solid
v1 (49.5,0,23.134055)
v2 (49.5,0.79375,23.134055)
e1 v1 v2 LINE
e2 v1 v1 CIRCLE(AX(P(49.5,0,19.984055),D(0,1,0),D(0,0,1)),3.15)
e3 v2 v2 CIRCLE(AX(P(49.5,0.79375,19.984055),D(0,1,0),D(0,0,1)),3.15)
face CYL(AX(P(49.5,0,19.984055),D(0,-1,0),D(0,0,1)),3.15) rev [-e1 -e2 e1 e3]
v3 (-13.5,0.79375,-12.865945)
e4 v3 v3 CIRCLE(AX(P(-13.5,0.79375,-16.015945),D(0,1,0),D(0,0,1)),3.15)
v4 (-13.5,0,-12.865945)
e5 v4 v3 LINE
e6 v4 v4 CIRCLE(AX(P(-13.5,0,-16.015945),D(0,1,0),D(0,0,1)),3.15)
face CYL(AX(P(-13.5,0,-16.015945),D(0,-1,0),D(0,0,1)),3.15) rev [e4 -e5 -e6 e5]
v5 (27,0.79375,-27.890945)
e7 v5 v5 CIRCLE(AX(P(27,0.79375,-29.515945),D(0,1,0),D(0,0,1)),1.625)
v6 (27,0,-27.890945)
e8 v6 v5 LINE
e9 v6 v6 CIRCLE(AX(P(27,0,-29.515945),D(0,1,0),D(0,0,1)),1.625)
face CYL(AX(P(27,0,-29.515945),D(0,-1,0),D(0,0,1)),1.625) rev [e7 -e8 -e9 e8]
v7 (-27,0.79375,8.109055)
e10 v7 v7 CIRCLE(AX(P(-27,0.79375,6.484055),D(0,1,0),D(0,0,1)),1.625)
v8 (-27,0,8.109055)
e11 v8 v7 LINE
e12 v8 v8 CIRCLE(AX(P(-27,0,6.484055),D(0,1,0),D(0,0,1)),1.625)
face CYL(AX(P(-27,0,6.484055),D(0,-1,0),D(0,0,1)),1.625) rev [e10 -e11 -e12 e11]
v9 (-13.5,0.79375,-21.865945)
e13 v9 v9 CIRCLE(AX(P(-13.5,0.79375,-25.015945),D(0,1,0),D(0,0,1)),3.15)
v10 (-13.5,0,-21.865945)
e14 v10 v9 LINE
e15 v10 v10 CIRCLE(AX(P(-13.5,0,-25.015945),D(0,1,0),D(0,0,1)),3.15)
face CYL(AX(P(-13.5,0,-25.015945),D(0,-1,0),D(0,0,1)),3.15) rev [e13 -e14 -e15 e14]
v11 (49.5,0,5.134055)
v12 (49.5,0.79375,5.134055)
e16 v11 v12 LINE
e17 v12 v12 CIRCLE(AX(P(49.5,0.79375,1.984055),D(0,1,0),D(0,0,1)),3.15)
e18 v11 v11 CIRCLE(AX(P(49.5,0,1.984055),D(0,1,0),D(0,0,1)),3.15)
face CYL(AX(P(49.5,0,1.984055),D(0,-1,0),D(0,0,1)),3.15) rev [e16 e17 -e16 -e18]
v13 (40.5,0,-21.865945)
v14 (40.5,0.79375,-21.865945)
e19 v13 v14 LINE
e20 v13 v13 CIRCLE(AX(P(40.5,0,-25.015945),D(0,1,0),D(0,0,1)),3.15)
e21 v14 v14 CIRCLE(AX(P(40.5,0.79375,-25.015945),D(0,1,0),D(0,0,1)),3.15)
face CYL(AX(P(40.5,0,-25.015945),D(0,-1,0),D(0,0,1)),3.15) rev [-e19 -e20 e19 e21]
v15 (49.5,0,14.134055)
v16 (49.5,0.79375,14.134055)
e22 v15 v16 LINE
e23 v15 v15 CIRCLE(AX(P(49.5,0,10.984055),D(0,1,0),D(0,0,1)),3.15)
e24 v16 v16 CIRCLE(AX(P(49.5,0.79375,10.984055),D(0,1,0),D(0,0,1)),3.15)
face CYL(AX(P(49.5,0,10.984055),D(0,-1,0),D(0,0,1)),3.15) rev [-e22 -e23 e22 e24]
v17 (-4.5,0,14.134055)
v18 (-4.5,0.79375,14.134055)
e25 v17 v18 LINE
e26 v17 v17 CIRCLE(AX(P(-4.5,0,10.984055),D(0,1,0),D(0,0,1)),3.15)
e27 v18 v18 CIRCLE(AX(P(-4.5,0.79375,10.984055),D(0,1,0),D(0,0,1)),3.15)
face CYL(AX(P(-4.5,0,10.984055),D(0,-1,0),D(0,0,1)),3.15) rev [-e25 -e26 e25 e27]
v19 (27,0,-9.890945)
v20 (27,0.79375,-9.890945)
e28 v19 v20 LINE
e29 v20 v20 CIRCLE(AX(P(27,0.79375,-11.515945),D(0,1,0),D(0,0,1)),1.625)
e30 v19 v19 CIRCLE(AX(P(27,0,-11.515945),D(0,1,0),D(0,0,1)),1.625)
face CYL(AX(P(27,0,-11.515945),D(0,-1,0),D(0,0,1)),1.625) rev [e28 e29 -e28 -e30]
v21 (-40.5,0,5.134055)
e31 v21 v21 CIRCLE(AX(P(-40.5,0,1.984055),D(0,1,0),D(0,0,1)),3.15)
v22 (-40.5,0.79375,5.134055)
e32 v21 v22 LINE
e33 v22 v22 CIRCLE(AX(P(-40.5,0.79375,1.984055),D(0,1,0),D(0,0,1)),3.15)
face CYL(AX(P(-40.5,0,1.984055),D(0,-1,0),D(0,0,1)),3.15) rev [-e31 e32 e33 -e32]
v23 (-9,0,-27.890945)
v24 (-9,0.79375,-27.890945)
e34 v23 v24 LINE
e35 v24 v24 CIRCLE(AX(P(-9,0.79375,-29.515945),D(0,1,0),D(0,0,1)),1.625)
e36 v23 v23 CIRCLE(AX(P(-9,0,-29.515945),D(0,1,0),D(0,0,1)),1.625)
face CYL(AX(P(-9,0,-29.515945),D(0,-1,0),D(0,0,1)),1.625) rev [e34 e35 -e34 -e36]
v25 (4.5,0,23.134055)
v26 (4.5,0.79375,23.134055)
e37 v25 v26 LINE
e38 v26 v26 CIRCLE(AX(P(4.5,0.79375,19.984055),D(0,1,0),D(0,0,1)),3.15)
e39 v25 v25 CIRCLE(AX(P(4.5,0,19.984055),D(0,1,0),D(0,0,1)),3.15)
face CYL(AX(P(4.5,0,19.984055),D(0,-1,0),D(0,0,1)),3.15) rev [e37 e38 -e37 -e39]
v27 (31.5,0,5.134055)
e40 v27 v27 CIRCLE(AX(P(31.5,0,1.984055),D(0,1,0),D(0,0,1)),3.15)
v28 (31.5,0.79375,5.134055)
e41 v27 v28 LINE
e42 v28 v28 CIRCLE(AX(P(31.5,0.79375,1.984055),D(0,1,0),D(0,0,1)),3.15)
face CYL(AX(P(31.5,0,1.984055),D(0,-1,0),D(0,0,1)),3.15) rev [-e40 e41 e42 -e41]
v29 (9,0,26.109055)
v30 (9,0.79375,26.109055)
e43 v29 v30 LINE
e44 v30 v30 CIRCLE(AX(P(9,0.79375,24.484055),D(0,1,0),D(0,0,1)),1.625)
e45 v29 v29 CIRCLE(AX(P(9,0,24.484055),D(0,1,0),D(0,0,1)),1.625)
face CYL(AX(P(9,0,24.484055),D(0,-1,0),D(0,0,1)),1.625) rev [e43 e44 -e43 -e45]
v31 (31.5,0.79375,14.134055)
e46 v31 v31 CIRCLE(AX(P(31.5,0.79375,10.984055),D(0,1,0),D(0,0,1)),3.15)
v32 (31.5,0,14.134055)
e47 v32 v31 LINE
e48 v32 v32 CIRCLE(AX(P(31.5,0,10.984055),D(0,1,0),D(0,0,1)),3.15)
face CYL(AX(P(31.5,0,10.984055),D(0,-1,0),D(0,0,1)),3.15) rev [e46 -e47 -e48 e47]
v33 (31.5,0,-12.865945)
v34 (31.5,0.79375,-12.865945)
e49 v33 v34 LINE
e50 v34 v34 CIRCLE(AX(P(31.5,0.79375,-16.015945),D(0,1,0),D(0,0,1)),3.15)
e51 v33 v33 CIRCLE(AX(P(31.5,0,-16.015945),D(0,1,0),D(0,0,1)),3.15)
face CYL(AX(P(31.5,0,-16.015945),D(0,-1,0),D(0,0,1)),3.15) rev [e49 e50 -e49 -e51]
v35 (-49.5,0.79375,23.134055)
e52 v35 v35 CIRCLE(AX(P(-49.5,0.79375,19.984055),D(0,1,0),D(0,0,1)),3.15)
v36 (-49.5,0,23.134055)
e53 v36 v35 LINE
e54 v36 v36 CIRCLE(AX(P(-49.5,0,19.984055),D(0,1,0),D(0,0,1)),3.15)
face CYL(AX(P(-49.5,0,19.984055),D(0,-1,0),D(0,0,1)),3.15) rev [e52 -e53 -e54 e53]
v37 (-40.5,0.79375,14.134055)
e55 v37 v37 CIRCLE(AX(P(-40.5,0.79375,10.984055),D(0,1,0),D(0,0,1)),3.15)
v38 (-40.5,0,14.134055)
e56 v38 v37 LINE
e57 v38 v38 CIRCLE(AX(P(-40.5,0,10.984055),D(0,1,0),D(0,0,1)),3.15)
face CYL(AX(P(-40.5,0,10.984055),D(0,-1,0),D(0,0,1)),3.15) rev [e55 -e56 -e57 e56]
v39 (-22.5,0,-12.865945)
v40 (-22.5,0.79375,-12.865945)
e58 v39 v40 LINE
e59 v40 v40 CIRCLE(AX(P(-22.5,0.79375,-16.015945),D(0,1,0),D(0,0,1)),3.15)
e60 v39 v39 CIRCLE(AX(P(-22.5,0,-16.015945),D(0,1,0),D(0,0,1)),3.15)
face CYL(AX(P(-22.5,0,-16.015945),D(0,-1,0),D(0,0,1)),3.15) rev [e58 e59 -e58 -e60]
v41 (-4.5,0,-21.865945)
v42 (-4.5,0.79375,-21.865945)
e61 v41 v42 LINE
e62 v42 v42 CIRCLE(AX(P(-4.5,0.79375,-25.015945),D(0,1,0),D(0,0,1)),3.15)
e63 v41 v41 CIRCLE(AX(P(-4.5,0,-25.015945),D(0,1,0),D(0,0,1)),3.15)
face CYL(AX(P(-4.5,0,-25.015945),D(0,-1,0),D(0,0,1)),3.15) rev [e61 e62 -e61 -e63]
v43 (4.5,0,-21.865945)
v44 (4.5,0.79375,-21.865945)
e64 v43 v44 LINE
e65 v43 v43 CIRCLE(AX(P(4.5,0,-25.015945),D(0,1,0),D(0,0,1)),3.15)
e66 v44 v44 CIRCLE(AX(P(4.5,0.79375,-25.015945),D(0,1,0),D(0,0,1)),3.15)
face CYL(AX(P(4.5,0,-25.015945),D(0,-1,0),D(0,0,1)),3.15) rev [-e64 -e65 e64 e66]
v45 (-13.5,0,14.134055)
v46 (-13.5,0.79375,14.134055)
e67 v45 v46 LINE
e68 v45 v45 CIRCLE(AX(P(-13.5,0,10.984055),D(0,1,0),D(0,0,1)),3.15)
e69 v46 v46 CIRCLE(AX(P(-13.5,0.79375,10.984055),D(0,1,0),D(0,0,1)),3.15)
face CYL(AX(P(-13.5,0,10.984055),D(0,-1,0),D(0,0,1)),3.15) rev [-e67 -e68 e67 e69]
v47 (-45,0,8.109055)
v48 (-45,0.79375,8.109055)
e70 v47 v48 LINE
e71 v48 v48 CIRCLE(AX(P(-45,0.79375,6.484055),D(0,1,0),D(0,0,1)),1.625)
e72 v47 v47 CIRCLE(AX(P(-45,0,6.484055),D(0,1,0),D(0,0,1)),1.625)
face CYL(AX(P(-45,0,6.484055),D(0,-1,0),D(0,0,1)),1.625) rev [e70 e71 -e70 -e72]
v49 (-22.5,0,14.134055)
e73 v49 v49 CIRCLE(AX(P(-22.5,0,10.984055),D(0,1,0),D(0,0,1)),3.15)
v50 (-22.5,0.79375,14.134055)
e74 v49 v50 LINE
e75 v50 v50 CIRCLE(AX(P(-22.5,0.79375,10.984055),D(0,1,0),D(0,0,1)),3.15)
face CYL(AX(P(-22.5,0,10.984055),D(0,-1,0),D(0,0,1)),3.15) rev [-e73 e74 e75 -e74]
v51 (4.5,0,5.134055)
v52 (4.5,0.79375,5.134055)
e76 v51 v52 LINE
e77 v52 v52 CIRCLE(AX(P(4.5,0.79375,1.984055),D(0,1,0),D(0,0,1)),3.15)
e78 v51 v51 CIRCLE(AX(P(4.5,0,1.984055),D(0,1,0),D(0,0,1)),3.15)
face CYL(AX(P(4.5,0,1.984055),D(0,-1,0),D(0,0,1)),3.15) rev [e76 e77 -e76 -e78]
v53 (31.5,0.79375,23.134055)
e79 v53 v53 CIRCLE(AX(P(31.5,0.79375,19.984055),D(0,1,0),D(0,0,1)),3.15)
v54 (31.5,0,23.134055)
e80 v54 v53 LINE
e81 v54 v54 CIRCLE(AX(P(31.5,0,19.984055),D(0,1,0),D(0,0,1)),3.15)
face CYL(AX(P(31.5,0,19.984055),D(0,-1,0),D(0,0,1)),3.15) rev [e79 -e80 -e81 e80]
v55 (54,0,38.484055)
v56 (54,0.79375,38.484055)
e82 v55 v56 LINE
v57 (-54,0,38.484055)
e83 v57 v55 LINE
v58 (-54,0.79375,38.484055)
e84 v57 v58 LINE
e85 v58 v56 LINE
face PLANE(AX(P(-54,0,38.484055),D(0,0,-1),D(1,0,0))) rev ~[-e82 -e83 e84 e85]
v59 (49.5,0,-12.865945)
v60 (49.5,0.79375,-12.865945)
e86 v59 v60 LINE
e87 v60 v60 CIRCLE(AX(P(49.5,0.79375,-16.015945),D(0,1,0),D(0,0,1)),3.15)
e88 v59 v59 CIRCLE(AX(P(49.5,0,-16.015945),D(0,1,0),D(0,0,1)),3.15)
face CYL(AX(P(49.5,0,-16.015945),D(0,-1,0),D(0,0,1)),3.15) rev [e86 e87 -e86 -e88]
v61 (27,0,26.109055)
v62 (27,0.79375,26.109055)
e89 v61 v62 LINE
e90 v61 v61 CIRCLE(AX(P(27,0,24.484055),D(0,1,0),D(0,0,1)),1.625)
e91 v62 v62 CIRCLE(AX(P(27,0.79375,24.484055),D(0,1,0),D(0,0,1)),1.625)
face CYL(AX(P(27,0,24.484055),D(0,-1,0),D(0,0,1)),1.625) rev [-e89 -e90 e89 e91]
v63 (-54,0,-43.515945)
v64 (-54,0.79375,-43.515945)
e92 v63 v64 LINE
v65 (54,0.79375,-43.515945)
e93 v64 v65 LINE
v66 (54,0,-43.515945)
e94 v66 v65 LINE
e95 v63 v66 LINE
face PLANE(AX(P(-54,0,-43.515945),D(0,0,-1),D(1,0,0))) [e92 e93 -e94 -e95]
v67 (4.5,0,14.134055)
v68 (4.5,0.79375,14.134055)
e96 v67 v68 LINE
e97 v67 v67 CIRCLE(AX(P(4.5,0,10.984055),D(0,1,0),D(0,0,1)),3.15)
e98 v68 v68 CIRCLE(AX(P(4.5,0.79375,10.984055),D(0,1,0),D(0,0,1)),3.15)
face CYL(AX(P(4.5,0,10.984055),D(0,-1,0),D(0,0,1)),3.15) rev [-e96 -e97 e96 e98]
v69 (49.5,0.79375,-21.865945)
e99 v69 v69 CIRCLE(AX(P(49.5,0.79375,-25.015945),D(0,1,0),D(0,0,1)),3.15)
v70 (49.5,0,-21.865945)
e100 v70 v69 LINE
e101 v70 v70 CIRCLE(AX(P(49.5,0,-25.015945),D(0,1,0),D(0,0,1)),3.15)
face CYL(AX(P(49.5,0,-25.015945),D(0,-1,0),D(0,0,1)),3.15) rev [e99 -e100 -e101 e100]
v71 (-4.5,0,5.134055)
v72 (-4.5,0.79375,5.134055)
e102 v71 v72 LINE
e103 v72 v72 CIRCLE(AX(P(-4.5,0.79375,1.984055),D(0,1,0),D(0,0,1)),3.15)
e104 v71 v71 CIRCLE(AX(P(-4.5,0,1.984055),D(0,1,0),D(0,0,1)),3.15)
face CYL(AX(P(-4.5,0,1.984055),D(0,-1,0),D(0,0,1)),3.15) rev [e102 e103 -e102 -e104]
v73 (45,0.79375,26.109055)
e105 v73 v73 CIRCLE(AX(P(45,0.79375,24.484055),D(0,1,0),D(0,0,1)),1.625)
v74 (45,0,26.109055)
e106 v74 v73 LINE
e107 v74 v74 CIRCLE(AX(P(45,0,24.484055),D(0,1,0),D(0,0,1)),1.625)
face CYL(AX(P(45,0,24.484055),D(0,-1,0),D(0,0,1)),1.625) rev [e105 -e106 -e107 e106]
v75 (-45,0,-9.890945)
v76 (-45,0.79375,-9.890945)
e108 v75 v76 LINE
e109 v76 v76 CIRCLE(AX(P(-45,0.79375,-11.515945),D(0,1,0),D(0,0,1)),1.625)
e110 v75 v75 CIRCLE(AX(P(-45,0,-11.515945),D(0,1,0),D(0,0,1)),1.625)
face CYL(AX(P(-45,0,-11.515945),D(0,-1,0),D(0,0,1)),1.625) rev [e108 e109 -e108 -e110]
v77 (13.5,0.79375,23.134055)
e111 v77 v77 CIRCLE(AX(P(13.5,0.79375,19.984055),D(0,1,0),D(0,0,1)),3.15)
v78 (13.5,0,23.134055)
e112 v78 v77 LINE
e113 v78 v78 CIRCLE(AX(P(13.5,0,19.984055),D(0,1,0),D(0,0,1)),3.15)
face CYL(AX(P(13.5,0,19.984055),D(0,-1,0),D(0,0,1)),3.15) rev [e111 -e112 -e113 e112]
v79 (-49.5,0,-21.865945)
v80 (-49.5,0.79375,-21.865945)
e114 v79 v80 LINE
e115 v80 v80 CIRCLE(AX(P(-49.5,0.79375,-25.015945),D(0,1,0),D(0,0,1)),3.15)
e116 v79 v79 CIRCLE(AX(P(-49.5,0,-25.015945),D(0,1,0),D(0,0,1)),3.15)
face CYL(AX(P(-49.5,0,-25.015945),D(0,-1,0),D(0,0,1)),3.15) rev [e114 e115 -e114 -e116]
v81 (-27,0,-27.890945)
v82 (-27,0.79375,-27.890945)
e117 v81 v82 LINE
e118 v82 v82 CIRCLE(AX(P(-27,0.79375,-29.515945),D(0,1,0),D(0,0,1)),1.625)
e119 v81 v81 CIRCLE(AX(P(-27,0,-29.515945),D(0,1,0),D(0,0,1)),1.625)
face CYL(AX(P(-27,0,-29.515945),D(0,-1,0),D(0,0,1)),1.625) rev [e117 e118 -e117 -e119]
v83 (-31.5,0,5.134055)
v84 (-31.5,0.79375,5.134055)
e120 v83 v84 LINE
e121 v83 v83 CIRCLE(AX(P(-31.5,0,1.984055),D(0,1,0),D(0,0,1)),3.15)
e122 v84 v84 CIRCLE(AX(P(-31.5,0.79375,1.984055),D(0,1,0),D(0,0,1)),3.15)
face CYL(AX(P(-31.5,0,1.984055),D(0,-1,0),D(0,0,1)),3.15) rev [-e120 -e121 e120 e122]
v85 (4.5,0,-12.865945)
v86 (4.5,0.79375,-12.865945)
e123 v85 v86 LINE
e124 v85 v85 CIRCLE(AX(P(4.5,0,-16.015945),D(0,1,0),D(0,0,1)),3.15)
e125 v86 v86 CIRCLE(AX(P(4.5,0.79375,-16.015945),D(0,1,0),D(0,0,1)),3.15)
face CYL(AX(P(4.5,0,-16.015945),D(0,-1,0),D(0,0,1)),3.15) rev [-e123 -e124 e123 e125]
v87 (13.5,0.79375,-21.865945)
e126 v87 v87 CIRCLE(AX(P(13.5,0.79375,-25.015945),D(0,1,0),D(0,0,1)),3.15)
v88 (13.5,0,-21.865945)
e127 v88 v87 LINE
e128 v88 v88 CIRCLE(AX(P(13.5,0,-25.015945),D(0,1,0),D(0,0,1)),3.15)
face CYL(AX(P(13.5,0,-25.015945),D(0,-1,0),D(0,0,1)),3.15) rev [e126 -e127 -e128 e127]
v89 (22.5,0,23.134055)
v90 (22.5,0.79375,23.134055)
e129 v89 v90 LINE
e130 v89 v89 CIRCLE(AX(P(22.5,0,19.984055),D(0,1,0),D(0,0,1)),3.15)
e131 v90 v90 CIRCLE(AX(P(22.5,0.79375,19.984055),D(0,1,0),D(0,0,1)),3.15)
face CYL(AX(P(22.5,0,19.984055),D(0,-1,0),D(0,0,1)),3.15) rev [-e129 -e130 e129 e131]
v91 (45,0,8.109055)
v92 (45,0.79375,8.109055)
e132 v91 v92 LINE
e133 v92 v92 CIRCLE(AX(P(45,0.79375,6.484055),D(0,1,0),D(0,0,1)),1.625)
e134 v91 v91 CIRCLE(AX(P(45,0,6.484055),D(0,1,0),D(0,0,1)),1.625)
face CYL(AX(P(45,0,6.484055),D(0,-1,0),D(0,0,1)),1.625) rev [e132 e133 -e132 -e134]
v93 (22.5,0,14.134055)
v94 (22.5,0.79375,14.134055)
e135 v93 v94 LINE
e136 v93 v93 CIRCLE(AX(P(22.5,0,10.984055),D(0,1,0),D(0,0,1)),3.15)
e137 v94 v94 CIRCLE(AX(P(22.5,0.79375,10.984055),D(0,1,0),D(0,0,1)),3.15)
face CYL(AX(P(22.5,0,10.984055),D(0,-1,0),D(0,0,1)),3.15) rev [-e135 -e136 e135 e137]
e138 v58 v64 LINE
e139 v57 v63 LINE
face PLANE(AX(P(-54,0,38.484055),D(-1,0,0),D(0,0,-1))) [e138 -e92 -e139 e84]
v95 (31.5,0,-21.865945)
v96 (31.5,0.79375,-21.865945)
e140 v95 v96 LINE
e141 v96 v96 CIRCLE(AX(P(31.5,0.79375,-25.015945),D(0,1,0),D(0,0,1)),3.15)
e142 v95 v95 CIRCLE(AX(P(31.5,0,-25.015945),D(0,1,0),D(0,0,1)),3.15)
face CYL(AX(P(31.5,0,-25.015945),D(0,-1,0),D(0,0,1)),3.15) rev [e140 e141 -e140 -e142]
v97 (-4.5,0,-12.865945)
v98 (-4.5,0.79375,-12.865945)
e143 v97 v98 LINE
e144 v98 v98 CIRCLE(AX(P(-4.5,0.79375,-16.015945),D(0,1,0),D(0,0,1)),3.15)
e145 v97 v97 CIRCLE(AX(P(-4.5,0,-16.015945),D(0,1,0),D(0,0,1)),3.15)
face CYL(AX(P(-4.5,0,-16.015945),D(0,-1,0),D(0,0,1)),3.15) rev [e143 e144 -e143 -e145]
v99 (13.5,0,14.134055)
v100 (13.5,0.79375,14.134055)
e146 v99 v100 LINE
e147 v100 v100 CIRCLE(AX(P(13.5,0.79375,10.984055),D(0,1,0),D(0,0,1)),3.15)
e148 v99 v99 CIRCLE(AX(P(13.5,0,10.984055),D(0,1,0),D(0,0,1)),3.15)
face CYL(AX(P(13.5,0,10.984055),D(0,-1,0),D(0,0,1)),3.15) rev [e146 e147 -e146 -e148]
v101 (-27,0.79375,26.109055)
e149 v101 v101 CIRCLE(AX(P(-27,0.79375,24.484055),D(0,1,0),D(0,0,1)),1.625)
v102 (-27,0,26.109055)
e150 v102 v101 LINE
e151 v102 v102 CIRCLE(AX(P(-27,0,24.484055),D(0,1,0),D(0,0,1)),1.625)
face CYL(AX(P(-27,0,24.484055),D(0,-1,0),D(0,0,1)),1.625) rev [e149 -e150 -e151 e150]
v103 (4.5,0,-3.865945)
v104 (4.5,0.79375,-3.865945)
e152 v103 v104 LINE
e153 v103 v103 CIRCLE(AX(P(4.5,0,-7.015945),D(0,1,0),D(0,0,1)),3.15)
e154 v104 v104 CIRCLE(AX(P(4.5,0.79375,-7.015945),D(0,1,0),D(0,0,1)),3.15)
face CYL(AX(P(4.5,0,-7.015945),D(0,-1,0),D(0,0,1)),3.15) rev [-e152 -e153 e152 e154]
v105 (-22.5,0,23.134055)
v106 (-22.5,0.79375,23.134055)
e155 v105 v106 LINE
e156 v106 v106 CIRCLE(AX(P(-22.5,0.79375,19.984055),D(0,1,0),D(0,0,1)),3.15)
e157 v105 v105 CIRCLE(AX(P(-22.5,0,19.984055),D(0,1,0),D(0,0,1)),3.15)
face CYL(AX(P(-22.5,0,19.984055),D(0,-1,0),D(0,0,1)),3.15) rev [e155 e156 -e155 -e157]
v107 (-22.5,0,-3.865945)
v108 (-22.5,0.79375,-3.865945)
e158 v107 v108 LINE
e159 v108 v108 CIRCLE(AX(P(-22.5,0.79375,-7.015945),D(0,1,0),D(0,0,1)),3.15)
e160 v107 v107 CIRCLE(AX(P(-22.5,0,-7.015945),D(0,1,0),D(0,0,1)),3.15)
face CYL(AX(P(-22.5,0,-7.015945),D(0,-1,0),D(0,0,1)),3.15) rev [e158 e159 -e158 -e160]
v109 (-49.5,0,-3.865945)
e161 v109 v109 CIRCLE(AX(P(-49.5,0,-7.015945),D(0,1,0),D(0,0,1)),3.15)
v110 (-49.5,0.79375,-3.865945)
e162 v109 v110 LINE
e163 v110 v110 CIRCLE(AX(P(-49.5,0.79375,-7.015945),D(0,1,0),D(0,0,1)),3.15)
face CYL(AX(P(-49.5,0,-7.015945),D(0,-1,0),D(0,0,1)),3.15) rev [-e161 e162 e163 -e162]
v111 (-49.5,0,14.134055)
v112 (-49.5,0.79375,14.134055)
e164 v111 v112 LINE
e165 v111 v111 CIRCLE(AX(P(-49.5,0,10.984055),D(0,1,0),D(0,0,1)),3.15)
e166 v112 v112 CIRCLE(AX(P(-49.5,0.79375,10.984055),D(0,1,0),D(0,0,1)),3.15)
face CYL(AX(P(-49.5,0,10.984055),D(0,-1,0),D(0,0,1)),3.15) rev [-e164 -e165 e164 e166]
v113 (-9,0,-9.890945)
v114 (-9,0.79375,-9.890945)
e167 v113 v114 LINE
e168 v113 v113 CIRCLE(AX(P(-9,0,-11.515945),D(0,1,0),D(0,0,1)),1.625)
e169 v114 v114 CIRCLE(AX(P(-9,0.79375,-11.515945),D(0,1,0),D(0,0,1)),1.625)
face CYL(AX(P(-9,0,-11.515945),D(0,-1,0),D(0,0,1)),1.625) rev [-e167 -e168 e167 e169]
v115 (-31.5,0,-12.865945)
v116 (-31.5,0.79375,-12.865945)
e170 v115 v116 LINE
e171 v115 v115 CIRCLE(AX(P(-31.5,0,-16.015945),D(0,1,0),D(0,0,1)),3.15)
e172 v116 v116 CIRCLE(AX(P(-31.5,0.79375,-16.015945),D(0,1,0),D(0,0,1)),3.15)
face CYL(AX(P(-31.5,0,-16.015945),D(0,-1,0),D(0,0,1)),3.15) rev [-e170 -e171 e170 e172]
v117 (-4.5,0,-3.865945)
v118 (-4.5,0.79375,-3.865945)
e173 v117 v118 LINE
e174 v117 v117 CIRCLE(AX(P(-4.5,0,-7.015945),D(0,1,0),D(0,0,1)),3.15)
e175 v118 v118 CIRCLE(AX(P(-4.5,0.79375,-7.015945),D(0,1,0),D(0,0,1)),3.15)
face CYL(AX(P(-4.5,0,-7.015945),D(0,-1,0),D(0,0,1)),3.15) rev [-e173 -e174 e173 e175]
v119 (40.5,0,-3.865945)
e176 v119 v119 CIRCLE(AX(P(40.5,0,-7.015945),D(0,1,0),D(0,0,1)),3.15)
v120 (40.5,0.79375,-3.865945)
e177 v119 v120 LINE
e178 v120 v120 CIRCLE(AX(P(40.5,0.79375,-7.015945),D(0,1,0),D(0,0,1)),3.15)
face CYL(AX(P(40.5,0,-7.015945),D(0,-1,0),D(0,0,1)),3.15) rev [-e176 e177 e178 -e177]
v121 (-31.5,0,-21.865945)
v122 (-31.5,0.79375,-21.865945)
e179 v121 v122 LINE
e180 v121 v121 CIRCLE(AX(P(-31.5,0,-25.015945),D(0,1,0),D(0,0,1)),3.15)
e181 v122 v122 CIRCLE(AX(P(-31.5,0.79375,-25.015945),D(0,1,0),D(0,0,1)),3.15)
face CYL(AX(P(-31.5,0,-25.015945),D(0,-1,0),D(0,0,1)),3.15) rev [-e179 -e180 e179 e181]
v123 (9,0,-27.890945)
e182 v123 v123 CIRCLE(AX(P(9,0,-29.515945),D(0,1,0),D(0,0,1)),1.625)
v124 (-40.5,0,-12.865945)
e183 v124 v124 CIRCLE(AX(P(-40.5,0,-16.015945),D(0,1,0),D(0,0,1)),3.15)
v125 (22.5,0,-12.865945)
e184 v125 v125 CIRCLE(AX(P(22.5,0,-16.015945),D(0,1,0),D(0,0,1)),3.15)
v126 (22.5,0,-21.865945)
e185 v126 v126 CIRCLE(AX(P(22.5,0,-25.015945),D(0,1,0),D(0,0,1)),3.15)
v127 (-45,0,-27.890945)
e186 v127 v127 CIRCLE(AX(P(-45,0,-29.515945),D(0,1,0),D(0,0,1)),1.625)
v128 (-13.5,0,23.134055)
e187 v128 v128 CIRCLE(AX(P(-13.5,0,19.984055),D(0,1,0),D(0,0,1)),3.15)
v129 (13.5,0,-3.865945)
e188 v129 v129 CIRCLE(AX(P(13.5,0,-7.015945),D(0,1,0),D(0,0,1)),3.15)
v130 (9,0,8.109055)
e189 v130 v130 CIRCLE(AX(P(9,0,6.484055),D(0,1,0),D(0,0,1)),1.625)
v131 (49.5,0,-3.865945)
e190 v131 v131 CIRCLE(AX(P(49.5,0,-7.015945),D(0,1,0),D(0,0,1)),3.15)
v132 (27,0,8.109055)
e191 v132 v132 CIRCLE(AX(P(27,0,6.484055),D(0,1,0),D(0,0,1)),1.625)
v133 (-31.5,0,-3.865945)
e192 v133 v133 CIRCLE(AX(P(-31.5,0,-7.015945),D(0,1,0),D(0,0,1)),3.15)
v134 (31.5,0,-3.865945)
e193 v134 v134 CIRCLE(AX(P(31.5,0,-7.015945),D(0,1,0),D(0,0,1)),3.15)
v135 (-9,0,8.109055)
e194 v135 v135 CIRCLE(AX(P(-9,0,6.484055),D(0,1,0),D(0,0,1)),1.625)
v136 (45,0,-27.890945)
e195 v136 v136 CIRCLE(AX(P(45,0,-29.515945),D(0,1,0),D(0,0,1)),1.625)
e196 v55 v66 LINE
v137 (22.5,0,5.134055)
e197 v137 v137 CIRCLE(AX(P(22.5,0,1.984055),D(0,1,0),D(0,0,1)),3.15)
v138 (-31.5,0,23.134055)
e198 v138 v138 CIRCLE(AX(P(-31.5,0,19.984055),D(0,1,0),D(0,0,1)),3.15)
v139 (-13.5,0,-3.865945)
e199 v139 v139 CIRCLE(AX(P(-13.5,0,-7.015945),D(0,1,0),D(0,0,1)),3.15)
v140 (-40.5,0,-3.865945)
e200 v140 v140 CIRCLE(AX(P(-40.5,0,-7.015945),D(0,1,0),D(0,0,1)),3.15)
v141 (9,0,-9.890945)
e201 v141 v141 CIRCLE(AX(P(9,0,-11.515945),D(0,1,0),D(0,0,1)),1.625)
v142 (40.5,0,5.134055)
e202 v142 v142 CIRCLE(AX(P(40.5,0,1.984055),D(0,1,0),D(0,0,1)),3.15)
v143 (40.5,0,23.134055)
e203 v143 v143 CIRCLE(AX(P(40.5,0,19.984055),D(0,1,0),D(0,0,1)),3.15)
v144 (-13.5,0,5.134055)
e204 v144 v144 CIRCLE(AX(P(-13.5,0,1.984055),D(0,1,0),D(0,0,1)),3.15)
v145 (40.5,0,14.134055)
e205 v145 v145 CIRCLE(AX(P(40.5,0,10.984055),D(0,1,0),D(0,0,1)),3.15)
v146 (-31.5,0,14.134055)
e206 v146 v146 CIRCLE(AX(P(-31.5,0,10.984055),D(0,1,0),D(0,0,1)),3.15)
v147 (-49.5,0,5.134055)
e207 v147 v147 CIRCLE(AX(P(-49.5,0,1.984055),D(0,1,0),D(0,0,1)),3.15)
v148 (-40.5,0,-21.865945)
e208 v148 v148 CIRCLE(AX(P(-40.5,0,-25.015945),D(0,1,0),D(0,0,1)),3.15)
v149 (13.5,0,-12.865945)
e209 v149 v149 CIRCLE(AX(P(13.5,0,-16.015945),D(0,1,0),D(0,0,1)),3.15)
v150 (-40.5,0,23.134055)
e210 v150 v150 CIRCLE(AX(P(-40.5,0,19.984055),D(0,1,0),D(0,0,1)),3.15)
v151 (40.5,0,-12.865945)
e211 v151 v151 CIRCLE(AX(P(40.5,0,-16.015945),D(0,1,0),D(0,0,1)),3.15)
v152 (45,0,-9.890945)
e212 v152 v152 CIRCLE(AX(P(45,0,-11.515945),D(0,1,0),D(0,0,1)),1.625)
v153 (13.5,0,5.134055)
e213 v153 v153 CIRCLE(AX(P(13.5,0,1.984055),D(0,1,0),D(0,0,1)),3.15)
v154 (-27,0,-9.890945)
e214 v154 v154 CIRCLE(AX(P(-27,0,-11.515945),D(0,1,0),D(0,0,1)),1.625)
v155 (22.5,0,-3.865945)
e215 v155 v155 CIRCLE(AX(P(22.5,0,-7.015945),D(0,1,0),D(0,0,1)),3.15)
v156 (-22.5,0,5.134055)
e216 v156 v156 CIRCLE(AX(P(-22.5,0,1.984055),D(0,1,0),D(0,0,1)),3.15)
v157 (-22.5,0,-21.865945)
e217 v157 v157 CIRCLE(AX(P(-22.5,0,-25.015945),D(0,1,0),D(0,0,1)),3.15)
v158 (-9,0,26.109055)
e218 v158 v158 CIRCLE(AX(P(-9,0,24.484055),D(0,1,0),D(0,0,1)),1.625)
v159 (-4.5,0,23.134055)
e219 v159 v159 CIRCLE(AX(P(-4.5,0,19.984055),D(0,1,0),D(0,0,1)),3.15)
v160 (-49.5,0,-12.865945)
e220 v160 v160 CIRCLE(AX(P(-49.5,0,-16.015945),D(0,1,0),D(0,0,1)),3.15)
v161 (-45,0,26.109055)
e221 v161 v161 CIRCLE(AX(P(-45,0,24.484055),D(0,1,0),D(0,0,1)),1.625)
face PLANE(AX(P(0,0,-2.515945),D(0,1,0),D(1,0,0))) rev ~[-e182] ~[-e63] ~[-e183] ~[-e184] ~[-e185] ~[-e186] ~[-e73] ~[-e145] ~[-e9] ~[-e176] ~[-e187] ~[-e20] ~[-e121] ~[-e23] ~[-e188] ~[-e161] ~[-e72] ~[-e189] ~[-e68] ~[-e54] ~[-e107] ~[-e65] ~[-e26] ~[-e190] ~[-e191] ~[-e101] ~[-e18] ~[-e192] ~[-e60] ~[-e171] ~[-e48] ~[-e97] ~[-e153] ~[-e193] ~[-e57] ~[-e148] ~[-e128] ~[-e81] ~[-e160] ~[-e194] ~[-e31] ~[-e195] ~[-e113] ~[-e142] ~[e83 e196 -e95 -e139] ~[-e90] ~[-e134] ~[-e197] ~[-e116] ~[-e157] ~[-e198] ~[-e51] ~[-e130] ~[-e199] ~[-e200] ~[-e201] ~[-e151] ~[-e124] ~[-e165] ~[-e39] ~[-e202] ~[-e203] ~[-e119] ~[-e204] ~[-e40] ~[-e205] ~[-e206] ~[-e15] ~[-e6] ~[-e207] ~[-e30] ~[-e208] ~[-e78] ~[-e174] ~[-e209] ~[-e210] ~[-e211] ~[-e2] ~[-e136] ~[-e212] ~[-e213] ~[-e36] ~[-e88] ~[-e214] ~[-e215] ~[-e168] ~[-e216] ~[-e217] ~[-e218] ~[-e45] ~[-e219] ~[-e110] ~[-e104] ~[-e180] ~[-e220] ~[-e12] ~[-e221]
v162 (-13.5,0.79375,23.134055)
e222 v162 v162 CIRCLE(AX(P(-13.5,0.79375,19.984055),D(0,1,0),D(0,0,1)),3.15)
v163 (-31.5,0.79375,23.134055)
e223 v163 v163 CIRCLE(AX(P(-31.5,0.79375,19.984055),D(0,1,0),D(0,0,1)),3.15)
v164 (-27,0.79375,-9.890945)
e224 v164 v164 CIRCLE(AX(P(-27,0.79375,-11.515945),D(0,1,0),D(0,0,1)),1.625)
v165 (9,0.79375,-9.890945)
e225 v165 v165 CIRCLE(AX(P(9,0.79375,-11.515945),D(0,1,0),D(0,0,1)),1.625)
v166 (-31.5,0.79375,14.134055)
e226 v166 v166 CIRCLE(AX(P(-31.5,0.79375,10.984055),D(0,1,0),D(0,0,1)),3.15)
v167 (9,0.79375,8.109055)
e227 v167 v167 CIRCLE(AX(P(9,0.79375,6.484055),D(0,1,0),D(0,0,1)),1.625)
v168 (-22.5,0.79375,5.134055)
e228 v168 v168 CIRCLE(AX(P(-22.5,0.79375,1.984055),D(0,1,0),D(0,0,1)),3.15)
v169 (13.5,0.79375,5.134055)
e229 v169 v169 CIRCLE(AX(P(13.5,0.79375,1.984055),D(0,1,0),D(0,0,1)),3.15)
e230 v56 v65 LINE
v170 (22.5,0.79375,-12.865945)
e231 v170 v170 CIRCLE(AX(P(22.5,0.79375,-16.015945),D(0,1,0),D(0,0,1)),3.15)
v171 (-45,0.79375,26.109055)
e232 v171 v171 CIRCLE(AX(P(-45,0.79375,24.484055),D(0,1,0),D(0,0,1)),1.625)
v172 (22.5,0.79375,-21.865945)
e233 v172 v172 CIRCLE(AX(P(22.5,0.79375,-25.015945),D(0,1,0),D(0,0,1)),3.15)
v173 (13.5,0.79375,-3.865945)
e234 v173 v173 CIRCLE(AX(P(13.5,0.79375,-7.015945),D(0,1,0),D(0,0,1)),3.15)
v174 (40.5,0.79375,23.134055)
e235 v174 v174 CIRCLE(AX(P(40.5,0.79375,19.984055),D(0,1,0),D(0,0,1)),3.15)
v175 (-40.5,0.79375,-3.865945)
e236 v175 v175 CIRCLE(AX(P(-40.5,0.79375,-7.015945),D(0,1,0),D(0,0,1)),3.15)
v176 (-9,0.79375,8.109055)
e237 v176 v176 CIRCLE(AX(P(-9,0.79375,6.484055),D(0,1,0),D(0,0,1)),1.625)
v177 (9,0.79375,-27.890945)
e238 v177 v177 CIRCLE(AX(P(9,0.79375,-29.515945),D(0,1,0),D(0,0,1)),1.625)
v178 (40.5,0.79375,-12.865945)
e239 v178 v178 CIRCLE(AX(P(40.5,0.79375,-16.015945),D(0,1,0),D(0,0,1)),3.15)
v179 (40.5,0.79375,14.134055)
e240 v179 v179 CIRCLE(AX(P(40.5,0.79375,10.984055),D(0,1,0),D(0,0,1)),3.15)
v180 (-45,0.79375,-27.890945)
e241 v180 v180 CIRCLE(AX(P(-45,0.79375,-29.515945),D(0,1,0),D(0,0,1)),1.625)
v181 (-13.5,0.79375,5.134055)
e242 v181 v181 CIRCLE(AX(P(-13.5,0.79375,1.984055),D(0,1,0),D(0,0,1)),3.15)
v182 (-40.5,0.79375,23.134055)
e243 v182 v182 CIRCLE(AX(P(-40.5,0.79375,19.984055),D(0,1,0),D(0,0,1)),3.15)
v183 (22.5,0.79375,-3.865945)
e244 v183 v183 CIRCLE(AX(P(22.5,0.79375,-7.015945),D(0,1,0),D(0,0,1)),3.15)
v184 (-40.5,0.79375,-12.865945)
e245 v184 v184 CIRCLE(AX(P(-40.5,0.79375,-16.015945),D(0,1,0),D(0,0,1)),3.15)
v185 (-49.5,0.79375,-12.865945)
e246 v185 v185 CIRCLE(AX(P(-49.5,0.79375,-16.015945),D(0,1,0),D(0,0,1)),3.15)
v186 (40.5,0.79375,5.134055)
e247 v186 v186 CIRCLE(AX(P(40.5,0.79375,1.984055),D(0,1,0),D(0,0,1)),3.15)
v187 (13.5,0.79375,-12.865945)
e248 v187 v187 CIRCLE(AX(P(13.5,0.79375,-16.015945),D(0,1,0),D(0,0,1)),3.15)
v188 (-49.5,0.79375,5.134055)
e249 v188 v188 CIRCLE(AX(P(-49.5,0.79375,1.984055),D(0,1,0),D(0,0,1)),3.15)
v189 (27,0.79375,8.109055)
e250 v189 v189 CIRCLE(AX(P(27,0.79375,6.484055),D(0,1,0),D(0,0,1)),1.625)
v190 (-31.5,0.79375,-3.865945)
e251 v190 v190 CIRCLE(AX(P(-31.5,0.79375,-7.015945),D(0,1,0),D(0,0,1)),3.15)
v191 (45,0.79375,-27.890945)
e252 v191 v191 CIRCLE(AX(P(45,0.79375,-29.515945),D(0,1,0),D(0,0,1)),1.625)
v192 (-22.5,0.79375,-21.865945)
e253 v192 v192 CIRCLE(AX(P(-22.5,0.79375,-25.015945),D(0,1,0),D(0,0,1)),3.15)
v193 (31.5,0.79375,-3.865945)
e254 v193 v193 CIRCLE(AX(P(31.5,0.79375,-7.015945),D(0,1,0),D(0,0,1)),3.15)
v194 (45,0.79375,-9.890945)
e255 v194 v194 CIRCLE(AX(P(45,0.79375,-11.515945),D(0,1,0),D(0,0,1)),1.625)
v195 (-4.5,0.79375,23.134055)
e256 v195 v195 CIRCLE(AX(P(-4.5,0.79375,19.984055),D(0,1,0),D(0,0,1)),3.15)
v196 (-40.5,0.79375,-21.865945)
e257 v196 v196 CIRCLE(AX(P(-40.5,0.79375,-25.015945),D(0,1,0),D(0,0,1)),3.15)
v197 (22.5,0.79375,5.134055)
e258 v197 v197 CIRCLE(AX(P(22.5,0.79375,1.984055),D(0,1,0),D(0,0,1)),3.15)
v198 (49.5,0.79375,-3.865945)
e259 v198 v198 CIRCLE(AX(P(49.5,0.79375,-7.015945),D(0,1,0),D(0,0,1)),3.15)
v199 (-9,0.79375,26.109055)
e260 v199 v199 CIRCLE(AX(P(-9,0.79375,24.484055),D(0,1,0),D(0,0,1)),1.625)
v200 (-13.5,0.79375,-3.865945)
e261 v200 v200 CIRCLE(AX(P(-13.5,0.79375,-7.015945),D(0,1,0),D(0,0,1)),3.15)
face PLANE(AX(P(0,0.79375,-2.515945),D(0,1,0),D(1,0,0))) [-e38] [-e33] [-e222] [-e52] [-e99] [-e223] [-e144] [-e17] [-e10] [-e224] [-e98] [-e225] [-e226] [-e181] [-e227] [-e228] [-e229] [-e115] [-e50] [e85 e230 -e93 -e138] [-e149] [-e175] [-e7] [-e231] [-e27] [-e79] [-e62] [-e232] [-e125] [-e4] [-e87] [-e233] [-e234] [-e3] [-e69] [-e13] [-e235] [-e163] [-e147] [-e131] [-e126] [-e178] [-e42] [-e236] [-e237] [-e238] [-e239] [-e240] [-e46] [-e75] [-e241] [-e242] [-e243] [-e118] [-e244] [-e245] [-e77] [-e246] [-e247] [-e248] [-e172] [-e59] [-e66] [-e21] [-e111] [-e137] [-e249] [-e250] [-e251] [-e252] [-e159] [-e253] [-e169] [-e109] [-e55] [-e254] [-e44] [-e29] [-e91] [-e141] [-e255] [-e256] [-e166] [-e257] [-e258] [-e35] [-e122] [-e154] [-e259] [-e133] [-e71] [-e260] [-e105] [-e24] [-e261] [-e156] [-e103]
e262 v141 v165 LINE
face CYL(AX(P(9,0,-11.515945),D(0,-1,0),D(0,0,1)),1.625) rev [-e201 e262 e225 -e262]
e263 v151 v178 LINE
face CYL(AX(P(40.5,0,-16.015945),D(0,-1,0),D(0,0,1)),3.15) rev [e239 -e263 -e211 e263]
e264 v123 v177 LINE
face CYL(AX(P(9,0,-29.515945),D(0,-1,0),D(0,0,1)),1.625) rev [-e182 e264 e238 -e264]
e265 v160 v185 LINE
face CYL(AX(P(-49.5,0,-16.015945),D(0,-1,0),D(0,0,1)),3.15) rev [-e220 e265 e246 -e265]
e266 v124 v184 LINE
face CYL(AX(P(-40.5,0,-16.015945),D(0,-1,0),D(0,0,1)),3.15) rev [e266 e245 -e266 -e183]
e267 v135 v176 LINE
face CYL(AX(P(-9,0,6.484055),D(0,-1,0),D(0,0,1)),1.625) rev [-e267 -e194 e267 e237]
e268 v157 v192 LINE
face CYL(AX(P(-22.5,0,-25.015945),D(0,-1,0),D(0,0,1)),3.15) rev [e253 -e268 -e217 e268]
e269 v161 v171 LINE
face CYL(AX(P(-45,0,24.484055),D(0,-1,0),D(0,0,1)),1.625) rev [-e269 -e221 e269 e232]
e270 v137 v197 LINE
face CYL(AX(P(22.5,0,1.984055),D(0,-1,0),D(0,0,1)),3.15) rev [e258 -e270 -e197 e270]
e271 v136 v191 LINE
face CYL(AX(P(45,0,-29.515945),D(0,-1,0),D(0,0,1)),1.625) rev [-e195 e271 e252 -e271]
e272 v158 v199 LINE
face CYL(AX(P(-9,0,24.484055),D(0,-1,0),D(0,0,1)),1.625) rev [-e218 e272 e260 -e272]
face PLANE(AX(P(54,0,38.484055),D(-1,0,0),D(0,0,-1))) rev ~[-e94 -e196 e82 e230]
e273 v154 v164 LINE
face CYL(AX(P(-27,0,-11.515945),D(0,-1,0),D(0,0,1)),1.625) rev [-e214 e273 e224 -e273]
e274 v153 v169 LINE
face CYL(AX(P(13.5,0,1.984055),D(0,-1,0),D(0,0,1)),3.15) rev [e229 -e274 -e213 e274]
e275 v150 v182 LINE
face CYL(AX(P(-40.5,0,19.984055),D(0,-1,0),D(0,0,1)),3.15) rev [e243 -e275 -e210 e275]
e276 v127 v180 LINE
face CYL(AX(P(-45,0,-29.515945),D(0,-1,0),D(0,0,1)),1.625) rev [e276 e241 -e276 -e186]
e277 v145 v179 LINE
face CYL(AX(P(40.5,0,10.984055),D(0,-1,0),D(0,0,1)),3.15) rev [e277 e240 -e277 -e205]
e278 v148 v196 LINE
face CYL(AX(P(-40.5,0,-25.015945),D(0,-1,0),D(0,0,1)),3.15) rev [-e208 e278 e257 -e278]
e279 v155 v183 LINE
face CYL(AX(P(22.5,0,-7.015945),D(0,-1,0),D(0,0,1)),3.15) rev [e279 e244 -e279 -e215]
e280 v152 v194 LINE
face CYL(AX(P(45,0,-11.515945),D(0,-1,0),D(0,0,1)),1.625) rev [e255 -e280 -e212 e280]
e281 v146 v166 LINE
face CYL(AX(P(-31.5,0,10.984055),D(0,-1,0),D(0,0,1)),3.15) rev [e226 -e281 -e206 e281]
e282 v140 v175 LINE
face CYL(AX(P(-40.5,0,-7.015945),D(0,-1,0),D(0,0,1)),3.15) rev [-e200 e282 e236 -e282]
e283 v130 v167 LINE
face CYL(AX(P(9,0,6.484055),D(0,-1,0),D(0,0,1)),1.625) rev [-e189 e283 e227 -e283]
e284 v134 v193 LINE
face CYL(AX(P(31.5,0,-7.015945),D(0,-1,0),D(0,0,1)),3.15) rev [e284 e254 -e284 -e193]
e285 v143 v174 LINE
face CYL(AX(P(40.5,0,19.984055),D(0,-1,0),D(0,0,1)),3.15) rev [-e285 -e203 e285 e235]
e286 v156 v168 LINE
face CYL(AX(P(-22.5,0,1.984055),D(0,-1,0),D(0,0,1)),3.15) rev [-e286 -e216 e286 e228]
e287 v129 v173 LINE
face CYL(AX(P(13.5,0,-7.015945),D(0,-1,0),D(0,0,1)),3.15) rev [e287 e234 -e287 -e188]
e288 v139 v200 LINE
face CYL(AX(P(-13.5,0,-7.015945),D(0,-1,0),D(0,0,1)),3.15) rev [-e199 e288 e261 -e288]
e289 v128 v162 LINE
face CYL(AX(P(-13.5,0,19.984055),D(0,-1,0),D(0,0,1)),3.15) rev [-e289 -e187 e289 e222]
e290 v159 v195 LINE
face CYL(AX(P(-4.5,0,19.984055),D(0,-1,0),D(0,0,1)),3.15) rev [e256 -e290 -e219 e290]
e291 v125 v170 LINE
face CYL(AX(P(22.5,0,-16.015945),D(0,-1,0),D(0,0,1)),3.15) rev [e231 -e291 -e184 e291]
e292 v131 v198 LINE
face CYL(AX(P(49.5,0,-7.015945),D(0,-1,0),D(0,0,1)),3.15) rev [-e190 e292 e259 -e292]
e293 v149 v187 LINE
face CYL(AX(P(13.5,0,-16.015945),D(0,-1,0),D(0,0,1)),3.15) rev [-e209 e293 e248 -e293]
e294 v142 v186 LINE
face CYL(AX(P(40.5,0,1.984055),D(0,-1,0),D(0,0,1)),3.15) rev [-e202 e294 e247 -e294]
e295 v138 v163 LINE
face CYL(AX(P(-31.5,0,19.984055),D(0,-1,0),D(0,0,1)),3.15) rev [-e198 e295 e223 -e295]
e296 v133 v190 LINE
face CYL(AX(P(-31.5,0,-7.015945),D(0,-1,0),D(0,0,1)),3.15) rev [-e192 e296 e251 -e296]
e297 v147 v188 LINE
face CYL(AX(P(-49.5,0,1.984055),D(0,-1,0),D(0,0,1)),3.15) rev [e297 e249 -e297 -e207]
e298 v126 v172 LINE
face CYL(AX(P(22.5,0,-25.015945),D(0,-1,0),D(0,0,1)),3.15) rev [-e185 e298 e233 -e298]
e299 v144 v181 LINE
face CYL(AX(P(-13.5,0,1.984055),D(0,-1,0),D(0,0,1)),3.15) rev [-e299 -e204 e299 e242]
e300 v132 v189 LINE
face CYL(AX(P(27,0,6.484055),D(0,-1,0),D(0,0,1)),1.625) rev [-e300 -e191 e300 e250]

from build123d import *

# Parameters (mm, degrees)
SKETCH1_W           = 108
SKETCH1_H           = 82
SKETCH1_R           = 1.625
SKETCH1_R_2         = 3.15
BOSS_EXTRUDE1_DEPTH = 0.79375


with BuildPart() as part:
    # Sketch1 → Boss-Extrude1 (new body)
    with BuildSketch(Plane(origin=(0, 0, 0), x_dir=(1, 0, 0), z_dir=(0, 1, 0))):
        with Locations((0, 2.515945223)):
            Rectangle(SKETCH1_W, SKETCH1_H)
        with Locations(Location((-45, 29.515945223, 0), (0, 0, 270))):
            Circle(SKETCH1_R, mode=Mode.SUBTRACT)
        with Locations(Location((-49.5, 25.015945223, 0), (0, 0, 270))):
            Circle(SKETCH1_R_2, mode=Mode.SUBTRACT)
        with Locations(Location((-27, 29.515945223, 0), (0, 0, 270))):
            Circle(SKETCH1_R, mode=Mode.SUBTRACT)
        with Locations(Location((-9, 29.515945223, 0), (0, 0, 270))):
            Circle(SKETCH1_R, mode=Mode.SUBTRACT)
        with Locations(Location((9, 29.515945223, 0), (0, 0, 270))):
            Circle(SKETCH1_R, mode=Mode.SUBTRACT)
        with Locations(Location((27, 29.515945223, 0), (0, 0, 270))):
            Circle(SKETCH1_R, mode=Mode.SUBTRACT)
        with Locations(Location((45, 29.515945223, 0), (0, 0, 270))):
            Circle(SKETCH1_R, mode=Mode.SUBTRACT)
        with Locations(Location((-27, 11.515945223, 0), (0, 0, 270))):
            Circle(SKETCH1_R, mode=Mode.SUBTRACT)
        with Locations(Location((-9, 11.515945223, 0), (0, 0, 270))):
            Circle(SKETCH1_R, mode=Mode.SUBTRACT)
        with Locations(Location((9, 11.515945223, 0), (0, 0, 270))):
            Circle(SKETCH1_R, mode=Mode.SUBTRACT)
        with Locations(Location((27, 11.515945223, 0), (0, 0, 270))):
            Circle(SKETCH1_R, mode=Mode.SUBTRACT)
        with Locations(Location((45, 11.515945223, 0), (0, 0, 270))):
            Circle(SKETCH1_R, mode=Mode.SUBTRACT)
        with Locations(Location((-27, -6.484054777, 0), (0, 0, 270))):
            Circle(SKETCH1_R, mode=Mode.SUBTRACT)
        with Locations(Location((-9, -6.484054777, 0), (0, 0, 270))):
            Circle(SKETCH1_R, mode=Mode.SUBTRACT)
        with Locations(Location((9, -6.484054777, 0), (0, 0, 270))):
            Circle(SKETCH1_R, mode=Mode.SUBTRACT)
        with Locations(Location((27, -6.484054777, 0), (0, 0, 270))):
            Circle(SKETCH1_R, mode=Mode.SUBTRACT)
        with Locations(Location((45, -6.484054777, 0), (0, 0, 270))):
            Circle(SKETCH1_R, mode=Mode.SUBTRACT)
        with Locations(Location((-27, -24.484054777, 0), (0, 0, 270))):
            Circle(SKETCH1_R, mode=Mode.SUBTRACT)
        with Locations(Location((-9, -24.484054777, 0), (0, 0, 270))):
            Circle(SKETCH1_R, mode=Mode.SUBTRACT)
        with Locations(Location((9, -24.484054777, 0), (0, 0, 270))):
            Circle(SKETCH1_R, mode=Mode.SUBTRACT)
        with Locations(Location((27, -24.484054777, 0), (0, 0, 270))):
            Circle(SKETCH1_R, mode=Mode.SUBTRACT)
        with Locations(Location((45, -24.484054777, 0), (0, 0, 270))):
            Circle(SKETCH1_R, mode=Mode.SUBTRACT)
        with Locations(Location((-45, 11.515945223, 0), (0, 0, 270))):
            Circle(SKETCH1_R, mode=Mode.SUBTRACT)
        with Locations(Location((-45, -6.484054777, 0), (0, 0, 270))):
            Circle(SKETCH1_R, mode=Mode.SUBTRACT)
        with Locations(Location((-45, -24.484054777, 0), (0, 0, 270))):
            Circle(SKETCH1_R, mode=Mode.SUBTRACT)
        with Locations(Location((-40.5, 25.015945223, 0), (0, 0, 270))):
            Circle(SKETCH1_R_2, mode=Mode.SUBTRACT)
        with Locations(Location((-31.5, 25.015945223, 0), (0, 0, 270))):
            Circle(SKETCH1_R_2, mode=Mode.SUBTRACT)
        with Locations(Location((-22.5, 25.015945223, 0), (0, 0, 270))):
            Circle(SKETCH1_R_2, mode=Mode.SUBTRACT)
        with Locations(Location((-13.5, 25.015945223, 0), (0, 0, 270))):
            Circle(SKETCH1_R_2, mode=Mode.SUBTRACT)
        with Locations(Location((-4.5, 25.015945223, 0), (0, 0, 270))):
            Circle(SKETCH1_R_2, mode=Mode.SUBTRACT)
        with Locations(Location((4.5, 25.015945223, 0), (0, 0, 270))):
            Circle(SKETCH1_R_2, mode=Mode.SUBTRACT)
        with Locations(Location((13.5, 25.015945223, 0), (0, 0, 270))):
            Circle(SKETCH1_R_2, mode=Mode.SUBTRACT)
        with Locations(Location((22.5, 25.015945223, 0), (0, 0, 270))):
            Circle(SKETCH1_R_2, mode=Mode.SUBTRACT)
        with Locations(Location((31.5, 25.015945223, 0), (0, 0, 270))):
            Circle(SKETCH1_R_2, mode=Mode.SUBTRACT)
        with Locations(Location((40.5, 25.015945223, 0), (0, 0, 270))):
            Circle(SKETCH1_R_2, mode=Mode.SUBTRACT)
        with Locations(Location((49.5, 25.015945223, 0), (0, 0, 270))):
            Circle(SKETCH1_R_2, mode=Mode.SUBTRACT)
        with Locations(Location((-40.5, 16.015945223, 0), (0, 0, 270))):
            Circle(SKETCH1_R_2, mode=Mode.SUBTRACT)
        with Locations(Location((-31.5, 16.015945223, 0), (0, 0, 270))):
            Circle(SKETCH1_R_2, mode=Mode.SUBTRACT)
        with Locations(Location((-22.5, 16.015945223, 0), (0, 0, 270))):
            Circle(SKETCH1_R_2, mode=Mode.SUBTRACT)
        with Locations(Location((-13.5, 16.015945223, 0), (0, 0, 270))):
            Circle(SKETCH1_R_2, mode=Mode.SUBTRACT)
        with Locations(Location((-4.5, 16.015945223, 0), (0, 0, 270))):
            Circle(SKETCH1_R_2, mode=Mode.SUBTRACT)
        with Locations(Location((4.5, 16.015945223, 0), (0, 0, 270))):
            Circle(SKETCH1_R_2, mode=Mode.SUBTRACT)
        with Locations(Location((13.5, 16.015945223, 0), (0, 0, 270))):
            Circle(SKETCH1_R_2, mode=Mode.SUBTRACT)
        with Locations(Location((22.5, 16.015945223, 0), (0, 0, 270))):
            Circle(SKETCH1_R_2, mode=Mode.SUBTRACT)
        with Locations(Location((31.5, 16.015945223, 0), (0, 0, 270))):
            Circle(SKETCH1_R_2, mode=Mode.SUBTRACT)
        with Locations(Location((40.5, 16.015945223, 0), (0, 0, 270))):
            Circle(SKETCH1_R_2, mode=Mode.SUBTRACT)
        with Locations(Location((49.5, 16.015945223, 0), (0, 0, 270))):
            Circle(SKETCH1_R_2, mode=Mode.SUBTRACT)
        with Locations(Location((-40.5, 7.015945223, 0), (0, 0, 270))):
            Circle(SKETCH1_R_2, mode=Mode.SUBTRACT)
        with Locations(Location((-31.5, 7.015945223, 0), (0, 0, 270))):
            Circle(SKETCH1_R_2, mode=Mode.SUBTRACT)
        with Locations(Location((-22.5, 7.015945223, 0), (0, 0, 270))):
            Circle(SKETCH1_R_2, mode=Mode.SUBTRACT)
        with Locations(Location((-13.5, 7.015945223, 0), (0, 0, 270))):
            Circle(SKETCH1_R_2, mode=Mode.SUBTRACT)
        with Locations(Location((-4.5, 7.015945223, 0), (0, 0, 270))):
            Circle(SKETCH1_R_2, mode=Mode.SUBTRACT)
        with Locations(Location((4.5, 7.015945223, 0), (0, 0, 270))):
            Circle(SKETCH1_R_2, mode=Mode.SUBTRACT)
        with Locations(Location((13.5, 7.015945223, 0), (0, 0, 270))):
            Circle(SKETCH1_R_2, mode=Mode.SUBTRACT)
        with Locations(Location((22.5, 7.015945223, 0), (0, 0, 270))):
            Circle(SKETCH1_R_2, mode=Mode.SUBTRACT)
        with Locations(Location((31.5, 7.015945223, 0), (0, 0, 270))):
            Circle(SKETCH1_R_2, mode=Mode.SUBTRACT)
        with Locations(Location((40.5, 7.015945223, 0), (0, 0, 270))):
            Circle(SKETCH1_R_2, mode=Mode.SUBTRACT)
        with Locations(Location((49.5, 7.015945223, 0), (0, 0, 270))):
            Circle(SKETCH1_R_2, mode=Mode.SUBTRACT)
        with Locations(Location((-40.5, -1.984054777, 0), (0, 0, 270))):
            Circle(SKETCH1_R_2, mode=Mode.SUBTRACT)
        with Locations(Location((-31.5, -1.984054777, 0), (0, 0, 270))):
            Circle(SKETCH1_R_2, mode=Mode.SUBTRACT)
        with Locations(Location((-22.5, -1.984054777, 0), (0, 0, 270))):
            Circle(SKETCH1_R_2, mode=Mode.SUBTRACT)
        with Locations(Location((-13.5, -1.984054777, 0), (0, 0, 270))):
            Circle(SKETCH1_R_2, mode=Mode.SUBTRACT)
        with Locations(Location((-4.5, -1.984054777, 0), (0, 0, 270))):
            Circle(SKETCH1_R_2, mode=Mode.SUBTRACT)
        with Locations(Location((4.5, -1.984054777, 0), (0, 0, 270))):
            Circle(SKETCH1_R_2, mode=Mode.SUBTRACT)
        with Locations(Location((13.5, -1.984054777, 0), (0, 0, 270))):
            Circle(SKETCH1_R_2, mode=Mode.SUBTRACT)
        with Locations(Location((22.5, -1.984054777, 0), (0, 0, 270))):
            Circle(SKETCH1_R_2, mode=Mode.SUBTRACT)
        with Locations(Location((31.5, -1.984054777, 0), (0, 0, 270))):
            Circle(SKETCH1_R_2, mode=Mode.SUBTRACT)
        with Locations(Location((40.5, -1.984054777, 0), (0, 0, 270))):
            Circle(SKETCH1_R_2, mode=Mode.SUBTRACT)
        with Locations(Location((49.5, -1.984054777, 0), (0, 0, 270))):
            Circle(SKETCH1_R_2, mode=Mode.SUBTRACT)
        with Locations(Location((-40.5, -10.984054777, 0), (0, 0, 270))):
            Circle(SKETCH1_R_2, mode=Mode.SUBTRACT)
        with Locations(Location((-31.5, -10.984054777, 0), (0, 0, 270))):
            Circle(SKETCH1_R_2, mode=Mode.SUBTRACT)
        with Locations(Location((-22.5, -10.984054777, 0), (0, 0, 270))):
            Circle(SKETCH1_R_2, mode=Mode.SUBTRACT)
        with Locations(Location((-13.5, -10.984054777, 0), (0, 0, 270))):
            Circle(SKETCH1_R_2, mode=Mode.SUBTRACT)
        with Locations(Location((-4.5, -10.984054777, 0), (0, 0, 270))):
            Circle(SKETCH1_R_2, mode=Mode.SUBTRACT)
        with Locations(Location((4.5, -10.984054777, 0), (0, 0, 270))):
            Circle(SKETCH1_R_2, mode=Mode.SUBTRACT)
        with Locations(Location((13.5, -10.984054777, 0), (0, 0, 270))):
            Circle(SKETCH1_R_2, mode=Mode.SUBTRACT)
        with Locations(Location((22.5, -10.984054777, 0), (0, 0, 270))):
            Circle(SKETCH1_R_2, mode=Mode.SUBTRACT)
        with Locations(Location((31.5, -10.984054777, 0), (0, 0, 270))):
            Circle(SKETCH1_R_2, mode=Mode.SUBTRACT)
        with Locations(Location((40.5, -10.984054777, 0), (0, 0, 270))):
            Circle(SKETCH1_R_2, mode=Mode.SUBTRACT)
        with Locations(Location((49.5, -10.984054777, 0), (0, 0, 270))):
            Circle(SKETCH1_R_2, mode=Mode.SUBTRACT)
        with Locations(Location((-40.5, -19.984054777, 0), (0, 0, 270))):
            Circle(SKETCH1_R_2, mode=Mode.SUBTRACT)
        with Locations(Location((-31.5, -19.984054777, 0), (0, 0, 270))):
            Circle(SKETCH1_R_2, mode=Mode.SUBTRACT)
        with Locations(Location((-22.5, -19.984054777, 0), (0, 0, 270))):
            Circle(SKETCH1_R_2, mode=Mode.SUBTRACT)
        with Locations(Location((-13.5, -19.984054777, 0), (0, 0, 270))):
            Circle(SKETCH1_R_2, mode=Mode.SUBTRACT)
        with Locations(Location((-4.5, -19.984054777, 0), (0, 0, 270))):
            Circle(SKETCH1_R_2, mode=Mode.SUBTRACT)
        with Locations(Location((4.5, -19.984054777, 0), (0, 0, 270))):
            Circle(SKETCH1_R_2, mode=Mode.SUBTRACT)
        with Locations(Location((13.5, -19.984054777, 0), (0, 0, 270))):
            Circle(SKETCH1_R_2, mode=Mode.SUBTRACT)
        with Locations(Location((22.5, -19.984054777, 0), (0, 0, 270))):
            Circle(SKETCH1_R_2, mode=Mode.SUBTRACT)
        with Locations(Location((31.5, -19.984054777, 0), (0, 0, 270))):
            Circle(SKETCH1_R_2, mode=Mode.SUBTRACT)
        with Locations(Location((40.5, -19.984054777, 0), (0, 0, 270))):
            Circle(SKETCH1_R_2, mode=Mode.SUBTRACT)
        with Locations(Location((49.5, -19.984054777, 0), (0, 0, 270))):
            Circle(SKETCH1_R_2, mode=Mode.SUBTRACT)
        with Locations(Location((-49.5, 16.015945223, 0), (0, 0, 270))):
            Circle(SKETCH1_R_2, mode=Mode.SUBTRACT)
        with Locations(Location((-49.5, 7.015945223, 0), (0, 0, 270))):
            Circle(SKETCH1_R_2, mode=Mode.SUBTRACT)
        with Locations(Location((-49.5, -1.984054777, 0), (0, 0, 270))):
            Circle(SKETCH1_R_2, mode=Mode.SUBTRACT)
        with Locations(Location((-49.5, -10.984054777, 0), (0, 0, 270))):
            Circle(SKETCH1_R_2, mode=Mode.SUBTRACT)
        with Locations(Location((-49.5, -19.984054777, 0), (0, 0, 270))):
            Circle(SKETCH1_R_2, mode=Mode.SUBTRACT)
    extrude(amount=BOSS_EXTRUDE1_DEPTH)


solid = part.part
